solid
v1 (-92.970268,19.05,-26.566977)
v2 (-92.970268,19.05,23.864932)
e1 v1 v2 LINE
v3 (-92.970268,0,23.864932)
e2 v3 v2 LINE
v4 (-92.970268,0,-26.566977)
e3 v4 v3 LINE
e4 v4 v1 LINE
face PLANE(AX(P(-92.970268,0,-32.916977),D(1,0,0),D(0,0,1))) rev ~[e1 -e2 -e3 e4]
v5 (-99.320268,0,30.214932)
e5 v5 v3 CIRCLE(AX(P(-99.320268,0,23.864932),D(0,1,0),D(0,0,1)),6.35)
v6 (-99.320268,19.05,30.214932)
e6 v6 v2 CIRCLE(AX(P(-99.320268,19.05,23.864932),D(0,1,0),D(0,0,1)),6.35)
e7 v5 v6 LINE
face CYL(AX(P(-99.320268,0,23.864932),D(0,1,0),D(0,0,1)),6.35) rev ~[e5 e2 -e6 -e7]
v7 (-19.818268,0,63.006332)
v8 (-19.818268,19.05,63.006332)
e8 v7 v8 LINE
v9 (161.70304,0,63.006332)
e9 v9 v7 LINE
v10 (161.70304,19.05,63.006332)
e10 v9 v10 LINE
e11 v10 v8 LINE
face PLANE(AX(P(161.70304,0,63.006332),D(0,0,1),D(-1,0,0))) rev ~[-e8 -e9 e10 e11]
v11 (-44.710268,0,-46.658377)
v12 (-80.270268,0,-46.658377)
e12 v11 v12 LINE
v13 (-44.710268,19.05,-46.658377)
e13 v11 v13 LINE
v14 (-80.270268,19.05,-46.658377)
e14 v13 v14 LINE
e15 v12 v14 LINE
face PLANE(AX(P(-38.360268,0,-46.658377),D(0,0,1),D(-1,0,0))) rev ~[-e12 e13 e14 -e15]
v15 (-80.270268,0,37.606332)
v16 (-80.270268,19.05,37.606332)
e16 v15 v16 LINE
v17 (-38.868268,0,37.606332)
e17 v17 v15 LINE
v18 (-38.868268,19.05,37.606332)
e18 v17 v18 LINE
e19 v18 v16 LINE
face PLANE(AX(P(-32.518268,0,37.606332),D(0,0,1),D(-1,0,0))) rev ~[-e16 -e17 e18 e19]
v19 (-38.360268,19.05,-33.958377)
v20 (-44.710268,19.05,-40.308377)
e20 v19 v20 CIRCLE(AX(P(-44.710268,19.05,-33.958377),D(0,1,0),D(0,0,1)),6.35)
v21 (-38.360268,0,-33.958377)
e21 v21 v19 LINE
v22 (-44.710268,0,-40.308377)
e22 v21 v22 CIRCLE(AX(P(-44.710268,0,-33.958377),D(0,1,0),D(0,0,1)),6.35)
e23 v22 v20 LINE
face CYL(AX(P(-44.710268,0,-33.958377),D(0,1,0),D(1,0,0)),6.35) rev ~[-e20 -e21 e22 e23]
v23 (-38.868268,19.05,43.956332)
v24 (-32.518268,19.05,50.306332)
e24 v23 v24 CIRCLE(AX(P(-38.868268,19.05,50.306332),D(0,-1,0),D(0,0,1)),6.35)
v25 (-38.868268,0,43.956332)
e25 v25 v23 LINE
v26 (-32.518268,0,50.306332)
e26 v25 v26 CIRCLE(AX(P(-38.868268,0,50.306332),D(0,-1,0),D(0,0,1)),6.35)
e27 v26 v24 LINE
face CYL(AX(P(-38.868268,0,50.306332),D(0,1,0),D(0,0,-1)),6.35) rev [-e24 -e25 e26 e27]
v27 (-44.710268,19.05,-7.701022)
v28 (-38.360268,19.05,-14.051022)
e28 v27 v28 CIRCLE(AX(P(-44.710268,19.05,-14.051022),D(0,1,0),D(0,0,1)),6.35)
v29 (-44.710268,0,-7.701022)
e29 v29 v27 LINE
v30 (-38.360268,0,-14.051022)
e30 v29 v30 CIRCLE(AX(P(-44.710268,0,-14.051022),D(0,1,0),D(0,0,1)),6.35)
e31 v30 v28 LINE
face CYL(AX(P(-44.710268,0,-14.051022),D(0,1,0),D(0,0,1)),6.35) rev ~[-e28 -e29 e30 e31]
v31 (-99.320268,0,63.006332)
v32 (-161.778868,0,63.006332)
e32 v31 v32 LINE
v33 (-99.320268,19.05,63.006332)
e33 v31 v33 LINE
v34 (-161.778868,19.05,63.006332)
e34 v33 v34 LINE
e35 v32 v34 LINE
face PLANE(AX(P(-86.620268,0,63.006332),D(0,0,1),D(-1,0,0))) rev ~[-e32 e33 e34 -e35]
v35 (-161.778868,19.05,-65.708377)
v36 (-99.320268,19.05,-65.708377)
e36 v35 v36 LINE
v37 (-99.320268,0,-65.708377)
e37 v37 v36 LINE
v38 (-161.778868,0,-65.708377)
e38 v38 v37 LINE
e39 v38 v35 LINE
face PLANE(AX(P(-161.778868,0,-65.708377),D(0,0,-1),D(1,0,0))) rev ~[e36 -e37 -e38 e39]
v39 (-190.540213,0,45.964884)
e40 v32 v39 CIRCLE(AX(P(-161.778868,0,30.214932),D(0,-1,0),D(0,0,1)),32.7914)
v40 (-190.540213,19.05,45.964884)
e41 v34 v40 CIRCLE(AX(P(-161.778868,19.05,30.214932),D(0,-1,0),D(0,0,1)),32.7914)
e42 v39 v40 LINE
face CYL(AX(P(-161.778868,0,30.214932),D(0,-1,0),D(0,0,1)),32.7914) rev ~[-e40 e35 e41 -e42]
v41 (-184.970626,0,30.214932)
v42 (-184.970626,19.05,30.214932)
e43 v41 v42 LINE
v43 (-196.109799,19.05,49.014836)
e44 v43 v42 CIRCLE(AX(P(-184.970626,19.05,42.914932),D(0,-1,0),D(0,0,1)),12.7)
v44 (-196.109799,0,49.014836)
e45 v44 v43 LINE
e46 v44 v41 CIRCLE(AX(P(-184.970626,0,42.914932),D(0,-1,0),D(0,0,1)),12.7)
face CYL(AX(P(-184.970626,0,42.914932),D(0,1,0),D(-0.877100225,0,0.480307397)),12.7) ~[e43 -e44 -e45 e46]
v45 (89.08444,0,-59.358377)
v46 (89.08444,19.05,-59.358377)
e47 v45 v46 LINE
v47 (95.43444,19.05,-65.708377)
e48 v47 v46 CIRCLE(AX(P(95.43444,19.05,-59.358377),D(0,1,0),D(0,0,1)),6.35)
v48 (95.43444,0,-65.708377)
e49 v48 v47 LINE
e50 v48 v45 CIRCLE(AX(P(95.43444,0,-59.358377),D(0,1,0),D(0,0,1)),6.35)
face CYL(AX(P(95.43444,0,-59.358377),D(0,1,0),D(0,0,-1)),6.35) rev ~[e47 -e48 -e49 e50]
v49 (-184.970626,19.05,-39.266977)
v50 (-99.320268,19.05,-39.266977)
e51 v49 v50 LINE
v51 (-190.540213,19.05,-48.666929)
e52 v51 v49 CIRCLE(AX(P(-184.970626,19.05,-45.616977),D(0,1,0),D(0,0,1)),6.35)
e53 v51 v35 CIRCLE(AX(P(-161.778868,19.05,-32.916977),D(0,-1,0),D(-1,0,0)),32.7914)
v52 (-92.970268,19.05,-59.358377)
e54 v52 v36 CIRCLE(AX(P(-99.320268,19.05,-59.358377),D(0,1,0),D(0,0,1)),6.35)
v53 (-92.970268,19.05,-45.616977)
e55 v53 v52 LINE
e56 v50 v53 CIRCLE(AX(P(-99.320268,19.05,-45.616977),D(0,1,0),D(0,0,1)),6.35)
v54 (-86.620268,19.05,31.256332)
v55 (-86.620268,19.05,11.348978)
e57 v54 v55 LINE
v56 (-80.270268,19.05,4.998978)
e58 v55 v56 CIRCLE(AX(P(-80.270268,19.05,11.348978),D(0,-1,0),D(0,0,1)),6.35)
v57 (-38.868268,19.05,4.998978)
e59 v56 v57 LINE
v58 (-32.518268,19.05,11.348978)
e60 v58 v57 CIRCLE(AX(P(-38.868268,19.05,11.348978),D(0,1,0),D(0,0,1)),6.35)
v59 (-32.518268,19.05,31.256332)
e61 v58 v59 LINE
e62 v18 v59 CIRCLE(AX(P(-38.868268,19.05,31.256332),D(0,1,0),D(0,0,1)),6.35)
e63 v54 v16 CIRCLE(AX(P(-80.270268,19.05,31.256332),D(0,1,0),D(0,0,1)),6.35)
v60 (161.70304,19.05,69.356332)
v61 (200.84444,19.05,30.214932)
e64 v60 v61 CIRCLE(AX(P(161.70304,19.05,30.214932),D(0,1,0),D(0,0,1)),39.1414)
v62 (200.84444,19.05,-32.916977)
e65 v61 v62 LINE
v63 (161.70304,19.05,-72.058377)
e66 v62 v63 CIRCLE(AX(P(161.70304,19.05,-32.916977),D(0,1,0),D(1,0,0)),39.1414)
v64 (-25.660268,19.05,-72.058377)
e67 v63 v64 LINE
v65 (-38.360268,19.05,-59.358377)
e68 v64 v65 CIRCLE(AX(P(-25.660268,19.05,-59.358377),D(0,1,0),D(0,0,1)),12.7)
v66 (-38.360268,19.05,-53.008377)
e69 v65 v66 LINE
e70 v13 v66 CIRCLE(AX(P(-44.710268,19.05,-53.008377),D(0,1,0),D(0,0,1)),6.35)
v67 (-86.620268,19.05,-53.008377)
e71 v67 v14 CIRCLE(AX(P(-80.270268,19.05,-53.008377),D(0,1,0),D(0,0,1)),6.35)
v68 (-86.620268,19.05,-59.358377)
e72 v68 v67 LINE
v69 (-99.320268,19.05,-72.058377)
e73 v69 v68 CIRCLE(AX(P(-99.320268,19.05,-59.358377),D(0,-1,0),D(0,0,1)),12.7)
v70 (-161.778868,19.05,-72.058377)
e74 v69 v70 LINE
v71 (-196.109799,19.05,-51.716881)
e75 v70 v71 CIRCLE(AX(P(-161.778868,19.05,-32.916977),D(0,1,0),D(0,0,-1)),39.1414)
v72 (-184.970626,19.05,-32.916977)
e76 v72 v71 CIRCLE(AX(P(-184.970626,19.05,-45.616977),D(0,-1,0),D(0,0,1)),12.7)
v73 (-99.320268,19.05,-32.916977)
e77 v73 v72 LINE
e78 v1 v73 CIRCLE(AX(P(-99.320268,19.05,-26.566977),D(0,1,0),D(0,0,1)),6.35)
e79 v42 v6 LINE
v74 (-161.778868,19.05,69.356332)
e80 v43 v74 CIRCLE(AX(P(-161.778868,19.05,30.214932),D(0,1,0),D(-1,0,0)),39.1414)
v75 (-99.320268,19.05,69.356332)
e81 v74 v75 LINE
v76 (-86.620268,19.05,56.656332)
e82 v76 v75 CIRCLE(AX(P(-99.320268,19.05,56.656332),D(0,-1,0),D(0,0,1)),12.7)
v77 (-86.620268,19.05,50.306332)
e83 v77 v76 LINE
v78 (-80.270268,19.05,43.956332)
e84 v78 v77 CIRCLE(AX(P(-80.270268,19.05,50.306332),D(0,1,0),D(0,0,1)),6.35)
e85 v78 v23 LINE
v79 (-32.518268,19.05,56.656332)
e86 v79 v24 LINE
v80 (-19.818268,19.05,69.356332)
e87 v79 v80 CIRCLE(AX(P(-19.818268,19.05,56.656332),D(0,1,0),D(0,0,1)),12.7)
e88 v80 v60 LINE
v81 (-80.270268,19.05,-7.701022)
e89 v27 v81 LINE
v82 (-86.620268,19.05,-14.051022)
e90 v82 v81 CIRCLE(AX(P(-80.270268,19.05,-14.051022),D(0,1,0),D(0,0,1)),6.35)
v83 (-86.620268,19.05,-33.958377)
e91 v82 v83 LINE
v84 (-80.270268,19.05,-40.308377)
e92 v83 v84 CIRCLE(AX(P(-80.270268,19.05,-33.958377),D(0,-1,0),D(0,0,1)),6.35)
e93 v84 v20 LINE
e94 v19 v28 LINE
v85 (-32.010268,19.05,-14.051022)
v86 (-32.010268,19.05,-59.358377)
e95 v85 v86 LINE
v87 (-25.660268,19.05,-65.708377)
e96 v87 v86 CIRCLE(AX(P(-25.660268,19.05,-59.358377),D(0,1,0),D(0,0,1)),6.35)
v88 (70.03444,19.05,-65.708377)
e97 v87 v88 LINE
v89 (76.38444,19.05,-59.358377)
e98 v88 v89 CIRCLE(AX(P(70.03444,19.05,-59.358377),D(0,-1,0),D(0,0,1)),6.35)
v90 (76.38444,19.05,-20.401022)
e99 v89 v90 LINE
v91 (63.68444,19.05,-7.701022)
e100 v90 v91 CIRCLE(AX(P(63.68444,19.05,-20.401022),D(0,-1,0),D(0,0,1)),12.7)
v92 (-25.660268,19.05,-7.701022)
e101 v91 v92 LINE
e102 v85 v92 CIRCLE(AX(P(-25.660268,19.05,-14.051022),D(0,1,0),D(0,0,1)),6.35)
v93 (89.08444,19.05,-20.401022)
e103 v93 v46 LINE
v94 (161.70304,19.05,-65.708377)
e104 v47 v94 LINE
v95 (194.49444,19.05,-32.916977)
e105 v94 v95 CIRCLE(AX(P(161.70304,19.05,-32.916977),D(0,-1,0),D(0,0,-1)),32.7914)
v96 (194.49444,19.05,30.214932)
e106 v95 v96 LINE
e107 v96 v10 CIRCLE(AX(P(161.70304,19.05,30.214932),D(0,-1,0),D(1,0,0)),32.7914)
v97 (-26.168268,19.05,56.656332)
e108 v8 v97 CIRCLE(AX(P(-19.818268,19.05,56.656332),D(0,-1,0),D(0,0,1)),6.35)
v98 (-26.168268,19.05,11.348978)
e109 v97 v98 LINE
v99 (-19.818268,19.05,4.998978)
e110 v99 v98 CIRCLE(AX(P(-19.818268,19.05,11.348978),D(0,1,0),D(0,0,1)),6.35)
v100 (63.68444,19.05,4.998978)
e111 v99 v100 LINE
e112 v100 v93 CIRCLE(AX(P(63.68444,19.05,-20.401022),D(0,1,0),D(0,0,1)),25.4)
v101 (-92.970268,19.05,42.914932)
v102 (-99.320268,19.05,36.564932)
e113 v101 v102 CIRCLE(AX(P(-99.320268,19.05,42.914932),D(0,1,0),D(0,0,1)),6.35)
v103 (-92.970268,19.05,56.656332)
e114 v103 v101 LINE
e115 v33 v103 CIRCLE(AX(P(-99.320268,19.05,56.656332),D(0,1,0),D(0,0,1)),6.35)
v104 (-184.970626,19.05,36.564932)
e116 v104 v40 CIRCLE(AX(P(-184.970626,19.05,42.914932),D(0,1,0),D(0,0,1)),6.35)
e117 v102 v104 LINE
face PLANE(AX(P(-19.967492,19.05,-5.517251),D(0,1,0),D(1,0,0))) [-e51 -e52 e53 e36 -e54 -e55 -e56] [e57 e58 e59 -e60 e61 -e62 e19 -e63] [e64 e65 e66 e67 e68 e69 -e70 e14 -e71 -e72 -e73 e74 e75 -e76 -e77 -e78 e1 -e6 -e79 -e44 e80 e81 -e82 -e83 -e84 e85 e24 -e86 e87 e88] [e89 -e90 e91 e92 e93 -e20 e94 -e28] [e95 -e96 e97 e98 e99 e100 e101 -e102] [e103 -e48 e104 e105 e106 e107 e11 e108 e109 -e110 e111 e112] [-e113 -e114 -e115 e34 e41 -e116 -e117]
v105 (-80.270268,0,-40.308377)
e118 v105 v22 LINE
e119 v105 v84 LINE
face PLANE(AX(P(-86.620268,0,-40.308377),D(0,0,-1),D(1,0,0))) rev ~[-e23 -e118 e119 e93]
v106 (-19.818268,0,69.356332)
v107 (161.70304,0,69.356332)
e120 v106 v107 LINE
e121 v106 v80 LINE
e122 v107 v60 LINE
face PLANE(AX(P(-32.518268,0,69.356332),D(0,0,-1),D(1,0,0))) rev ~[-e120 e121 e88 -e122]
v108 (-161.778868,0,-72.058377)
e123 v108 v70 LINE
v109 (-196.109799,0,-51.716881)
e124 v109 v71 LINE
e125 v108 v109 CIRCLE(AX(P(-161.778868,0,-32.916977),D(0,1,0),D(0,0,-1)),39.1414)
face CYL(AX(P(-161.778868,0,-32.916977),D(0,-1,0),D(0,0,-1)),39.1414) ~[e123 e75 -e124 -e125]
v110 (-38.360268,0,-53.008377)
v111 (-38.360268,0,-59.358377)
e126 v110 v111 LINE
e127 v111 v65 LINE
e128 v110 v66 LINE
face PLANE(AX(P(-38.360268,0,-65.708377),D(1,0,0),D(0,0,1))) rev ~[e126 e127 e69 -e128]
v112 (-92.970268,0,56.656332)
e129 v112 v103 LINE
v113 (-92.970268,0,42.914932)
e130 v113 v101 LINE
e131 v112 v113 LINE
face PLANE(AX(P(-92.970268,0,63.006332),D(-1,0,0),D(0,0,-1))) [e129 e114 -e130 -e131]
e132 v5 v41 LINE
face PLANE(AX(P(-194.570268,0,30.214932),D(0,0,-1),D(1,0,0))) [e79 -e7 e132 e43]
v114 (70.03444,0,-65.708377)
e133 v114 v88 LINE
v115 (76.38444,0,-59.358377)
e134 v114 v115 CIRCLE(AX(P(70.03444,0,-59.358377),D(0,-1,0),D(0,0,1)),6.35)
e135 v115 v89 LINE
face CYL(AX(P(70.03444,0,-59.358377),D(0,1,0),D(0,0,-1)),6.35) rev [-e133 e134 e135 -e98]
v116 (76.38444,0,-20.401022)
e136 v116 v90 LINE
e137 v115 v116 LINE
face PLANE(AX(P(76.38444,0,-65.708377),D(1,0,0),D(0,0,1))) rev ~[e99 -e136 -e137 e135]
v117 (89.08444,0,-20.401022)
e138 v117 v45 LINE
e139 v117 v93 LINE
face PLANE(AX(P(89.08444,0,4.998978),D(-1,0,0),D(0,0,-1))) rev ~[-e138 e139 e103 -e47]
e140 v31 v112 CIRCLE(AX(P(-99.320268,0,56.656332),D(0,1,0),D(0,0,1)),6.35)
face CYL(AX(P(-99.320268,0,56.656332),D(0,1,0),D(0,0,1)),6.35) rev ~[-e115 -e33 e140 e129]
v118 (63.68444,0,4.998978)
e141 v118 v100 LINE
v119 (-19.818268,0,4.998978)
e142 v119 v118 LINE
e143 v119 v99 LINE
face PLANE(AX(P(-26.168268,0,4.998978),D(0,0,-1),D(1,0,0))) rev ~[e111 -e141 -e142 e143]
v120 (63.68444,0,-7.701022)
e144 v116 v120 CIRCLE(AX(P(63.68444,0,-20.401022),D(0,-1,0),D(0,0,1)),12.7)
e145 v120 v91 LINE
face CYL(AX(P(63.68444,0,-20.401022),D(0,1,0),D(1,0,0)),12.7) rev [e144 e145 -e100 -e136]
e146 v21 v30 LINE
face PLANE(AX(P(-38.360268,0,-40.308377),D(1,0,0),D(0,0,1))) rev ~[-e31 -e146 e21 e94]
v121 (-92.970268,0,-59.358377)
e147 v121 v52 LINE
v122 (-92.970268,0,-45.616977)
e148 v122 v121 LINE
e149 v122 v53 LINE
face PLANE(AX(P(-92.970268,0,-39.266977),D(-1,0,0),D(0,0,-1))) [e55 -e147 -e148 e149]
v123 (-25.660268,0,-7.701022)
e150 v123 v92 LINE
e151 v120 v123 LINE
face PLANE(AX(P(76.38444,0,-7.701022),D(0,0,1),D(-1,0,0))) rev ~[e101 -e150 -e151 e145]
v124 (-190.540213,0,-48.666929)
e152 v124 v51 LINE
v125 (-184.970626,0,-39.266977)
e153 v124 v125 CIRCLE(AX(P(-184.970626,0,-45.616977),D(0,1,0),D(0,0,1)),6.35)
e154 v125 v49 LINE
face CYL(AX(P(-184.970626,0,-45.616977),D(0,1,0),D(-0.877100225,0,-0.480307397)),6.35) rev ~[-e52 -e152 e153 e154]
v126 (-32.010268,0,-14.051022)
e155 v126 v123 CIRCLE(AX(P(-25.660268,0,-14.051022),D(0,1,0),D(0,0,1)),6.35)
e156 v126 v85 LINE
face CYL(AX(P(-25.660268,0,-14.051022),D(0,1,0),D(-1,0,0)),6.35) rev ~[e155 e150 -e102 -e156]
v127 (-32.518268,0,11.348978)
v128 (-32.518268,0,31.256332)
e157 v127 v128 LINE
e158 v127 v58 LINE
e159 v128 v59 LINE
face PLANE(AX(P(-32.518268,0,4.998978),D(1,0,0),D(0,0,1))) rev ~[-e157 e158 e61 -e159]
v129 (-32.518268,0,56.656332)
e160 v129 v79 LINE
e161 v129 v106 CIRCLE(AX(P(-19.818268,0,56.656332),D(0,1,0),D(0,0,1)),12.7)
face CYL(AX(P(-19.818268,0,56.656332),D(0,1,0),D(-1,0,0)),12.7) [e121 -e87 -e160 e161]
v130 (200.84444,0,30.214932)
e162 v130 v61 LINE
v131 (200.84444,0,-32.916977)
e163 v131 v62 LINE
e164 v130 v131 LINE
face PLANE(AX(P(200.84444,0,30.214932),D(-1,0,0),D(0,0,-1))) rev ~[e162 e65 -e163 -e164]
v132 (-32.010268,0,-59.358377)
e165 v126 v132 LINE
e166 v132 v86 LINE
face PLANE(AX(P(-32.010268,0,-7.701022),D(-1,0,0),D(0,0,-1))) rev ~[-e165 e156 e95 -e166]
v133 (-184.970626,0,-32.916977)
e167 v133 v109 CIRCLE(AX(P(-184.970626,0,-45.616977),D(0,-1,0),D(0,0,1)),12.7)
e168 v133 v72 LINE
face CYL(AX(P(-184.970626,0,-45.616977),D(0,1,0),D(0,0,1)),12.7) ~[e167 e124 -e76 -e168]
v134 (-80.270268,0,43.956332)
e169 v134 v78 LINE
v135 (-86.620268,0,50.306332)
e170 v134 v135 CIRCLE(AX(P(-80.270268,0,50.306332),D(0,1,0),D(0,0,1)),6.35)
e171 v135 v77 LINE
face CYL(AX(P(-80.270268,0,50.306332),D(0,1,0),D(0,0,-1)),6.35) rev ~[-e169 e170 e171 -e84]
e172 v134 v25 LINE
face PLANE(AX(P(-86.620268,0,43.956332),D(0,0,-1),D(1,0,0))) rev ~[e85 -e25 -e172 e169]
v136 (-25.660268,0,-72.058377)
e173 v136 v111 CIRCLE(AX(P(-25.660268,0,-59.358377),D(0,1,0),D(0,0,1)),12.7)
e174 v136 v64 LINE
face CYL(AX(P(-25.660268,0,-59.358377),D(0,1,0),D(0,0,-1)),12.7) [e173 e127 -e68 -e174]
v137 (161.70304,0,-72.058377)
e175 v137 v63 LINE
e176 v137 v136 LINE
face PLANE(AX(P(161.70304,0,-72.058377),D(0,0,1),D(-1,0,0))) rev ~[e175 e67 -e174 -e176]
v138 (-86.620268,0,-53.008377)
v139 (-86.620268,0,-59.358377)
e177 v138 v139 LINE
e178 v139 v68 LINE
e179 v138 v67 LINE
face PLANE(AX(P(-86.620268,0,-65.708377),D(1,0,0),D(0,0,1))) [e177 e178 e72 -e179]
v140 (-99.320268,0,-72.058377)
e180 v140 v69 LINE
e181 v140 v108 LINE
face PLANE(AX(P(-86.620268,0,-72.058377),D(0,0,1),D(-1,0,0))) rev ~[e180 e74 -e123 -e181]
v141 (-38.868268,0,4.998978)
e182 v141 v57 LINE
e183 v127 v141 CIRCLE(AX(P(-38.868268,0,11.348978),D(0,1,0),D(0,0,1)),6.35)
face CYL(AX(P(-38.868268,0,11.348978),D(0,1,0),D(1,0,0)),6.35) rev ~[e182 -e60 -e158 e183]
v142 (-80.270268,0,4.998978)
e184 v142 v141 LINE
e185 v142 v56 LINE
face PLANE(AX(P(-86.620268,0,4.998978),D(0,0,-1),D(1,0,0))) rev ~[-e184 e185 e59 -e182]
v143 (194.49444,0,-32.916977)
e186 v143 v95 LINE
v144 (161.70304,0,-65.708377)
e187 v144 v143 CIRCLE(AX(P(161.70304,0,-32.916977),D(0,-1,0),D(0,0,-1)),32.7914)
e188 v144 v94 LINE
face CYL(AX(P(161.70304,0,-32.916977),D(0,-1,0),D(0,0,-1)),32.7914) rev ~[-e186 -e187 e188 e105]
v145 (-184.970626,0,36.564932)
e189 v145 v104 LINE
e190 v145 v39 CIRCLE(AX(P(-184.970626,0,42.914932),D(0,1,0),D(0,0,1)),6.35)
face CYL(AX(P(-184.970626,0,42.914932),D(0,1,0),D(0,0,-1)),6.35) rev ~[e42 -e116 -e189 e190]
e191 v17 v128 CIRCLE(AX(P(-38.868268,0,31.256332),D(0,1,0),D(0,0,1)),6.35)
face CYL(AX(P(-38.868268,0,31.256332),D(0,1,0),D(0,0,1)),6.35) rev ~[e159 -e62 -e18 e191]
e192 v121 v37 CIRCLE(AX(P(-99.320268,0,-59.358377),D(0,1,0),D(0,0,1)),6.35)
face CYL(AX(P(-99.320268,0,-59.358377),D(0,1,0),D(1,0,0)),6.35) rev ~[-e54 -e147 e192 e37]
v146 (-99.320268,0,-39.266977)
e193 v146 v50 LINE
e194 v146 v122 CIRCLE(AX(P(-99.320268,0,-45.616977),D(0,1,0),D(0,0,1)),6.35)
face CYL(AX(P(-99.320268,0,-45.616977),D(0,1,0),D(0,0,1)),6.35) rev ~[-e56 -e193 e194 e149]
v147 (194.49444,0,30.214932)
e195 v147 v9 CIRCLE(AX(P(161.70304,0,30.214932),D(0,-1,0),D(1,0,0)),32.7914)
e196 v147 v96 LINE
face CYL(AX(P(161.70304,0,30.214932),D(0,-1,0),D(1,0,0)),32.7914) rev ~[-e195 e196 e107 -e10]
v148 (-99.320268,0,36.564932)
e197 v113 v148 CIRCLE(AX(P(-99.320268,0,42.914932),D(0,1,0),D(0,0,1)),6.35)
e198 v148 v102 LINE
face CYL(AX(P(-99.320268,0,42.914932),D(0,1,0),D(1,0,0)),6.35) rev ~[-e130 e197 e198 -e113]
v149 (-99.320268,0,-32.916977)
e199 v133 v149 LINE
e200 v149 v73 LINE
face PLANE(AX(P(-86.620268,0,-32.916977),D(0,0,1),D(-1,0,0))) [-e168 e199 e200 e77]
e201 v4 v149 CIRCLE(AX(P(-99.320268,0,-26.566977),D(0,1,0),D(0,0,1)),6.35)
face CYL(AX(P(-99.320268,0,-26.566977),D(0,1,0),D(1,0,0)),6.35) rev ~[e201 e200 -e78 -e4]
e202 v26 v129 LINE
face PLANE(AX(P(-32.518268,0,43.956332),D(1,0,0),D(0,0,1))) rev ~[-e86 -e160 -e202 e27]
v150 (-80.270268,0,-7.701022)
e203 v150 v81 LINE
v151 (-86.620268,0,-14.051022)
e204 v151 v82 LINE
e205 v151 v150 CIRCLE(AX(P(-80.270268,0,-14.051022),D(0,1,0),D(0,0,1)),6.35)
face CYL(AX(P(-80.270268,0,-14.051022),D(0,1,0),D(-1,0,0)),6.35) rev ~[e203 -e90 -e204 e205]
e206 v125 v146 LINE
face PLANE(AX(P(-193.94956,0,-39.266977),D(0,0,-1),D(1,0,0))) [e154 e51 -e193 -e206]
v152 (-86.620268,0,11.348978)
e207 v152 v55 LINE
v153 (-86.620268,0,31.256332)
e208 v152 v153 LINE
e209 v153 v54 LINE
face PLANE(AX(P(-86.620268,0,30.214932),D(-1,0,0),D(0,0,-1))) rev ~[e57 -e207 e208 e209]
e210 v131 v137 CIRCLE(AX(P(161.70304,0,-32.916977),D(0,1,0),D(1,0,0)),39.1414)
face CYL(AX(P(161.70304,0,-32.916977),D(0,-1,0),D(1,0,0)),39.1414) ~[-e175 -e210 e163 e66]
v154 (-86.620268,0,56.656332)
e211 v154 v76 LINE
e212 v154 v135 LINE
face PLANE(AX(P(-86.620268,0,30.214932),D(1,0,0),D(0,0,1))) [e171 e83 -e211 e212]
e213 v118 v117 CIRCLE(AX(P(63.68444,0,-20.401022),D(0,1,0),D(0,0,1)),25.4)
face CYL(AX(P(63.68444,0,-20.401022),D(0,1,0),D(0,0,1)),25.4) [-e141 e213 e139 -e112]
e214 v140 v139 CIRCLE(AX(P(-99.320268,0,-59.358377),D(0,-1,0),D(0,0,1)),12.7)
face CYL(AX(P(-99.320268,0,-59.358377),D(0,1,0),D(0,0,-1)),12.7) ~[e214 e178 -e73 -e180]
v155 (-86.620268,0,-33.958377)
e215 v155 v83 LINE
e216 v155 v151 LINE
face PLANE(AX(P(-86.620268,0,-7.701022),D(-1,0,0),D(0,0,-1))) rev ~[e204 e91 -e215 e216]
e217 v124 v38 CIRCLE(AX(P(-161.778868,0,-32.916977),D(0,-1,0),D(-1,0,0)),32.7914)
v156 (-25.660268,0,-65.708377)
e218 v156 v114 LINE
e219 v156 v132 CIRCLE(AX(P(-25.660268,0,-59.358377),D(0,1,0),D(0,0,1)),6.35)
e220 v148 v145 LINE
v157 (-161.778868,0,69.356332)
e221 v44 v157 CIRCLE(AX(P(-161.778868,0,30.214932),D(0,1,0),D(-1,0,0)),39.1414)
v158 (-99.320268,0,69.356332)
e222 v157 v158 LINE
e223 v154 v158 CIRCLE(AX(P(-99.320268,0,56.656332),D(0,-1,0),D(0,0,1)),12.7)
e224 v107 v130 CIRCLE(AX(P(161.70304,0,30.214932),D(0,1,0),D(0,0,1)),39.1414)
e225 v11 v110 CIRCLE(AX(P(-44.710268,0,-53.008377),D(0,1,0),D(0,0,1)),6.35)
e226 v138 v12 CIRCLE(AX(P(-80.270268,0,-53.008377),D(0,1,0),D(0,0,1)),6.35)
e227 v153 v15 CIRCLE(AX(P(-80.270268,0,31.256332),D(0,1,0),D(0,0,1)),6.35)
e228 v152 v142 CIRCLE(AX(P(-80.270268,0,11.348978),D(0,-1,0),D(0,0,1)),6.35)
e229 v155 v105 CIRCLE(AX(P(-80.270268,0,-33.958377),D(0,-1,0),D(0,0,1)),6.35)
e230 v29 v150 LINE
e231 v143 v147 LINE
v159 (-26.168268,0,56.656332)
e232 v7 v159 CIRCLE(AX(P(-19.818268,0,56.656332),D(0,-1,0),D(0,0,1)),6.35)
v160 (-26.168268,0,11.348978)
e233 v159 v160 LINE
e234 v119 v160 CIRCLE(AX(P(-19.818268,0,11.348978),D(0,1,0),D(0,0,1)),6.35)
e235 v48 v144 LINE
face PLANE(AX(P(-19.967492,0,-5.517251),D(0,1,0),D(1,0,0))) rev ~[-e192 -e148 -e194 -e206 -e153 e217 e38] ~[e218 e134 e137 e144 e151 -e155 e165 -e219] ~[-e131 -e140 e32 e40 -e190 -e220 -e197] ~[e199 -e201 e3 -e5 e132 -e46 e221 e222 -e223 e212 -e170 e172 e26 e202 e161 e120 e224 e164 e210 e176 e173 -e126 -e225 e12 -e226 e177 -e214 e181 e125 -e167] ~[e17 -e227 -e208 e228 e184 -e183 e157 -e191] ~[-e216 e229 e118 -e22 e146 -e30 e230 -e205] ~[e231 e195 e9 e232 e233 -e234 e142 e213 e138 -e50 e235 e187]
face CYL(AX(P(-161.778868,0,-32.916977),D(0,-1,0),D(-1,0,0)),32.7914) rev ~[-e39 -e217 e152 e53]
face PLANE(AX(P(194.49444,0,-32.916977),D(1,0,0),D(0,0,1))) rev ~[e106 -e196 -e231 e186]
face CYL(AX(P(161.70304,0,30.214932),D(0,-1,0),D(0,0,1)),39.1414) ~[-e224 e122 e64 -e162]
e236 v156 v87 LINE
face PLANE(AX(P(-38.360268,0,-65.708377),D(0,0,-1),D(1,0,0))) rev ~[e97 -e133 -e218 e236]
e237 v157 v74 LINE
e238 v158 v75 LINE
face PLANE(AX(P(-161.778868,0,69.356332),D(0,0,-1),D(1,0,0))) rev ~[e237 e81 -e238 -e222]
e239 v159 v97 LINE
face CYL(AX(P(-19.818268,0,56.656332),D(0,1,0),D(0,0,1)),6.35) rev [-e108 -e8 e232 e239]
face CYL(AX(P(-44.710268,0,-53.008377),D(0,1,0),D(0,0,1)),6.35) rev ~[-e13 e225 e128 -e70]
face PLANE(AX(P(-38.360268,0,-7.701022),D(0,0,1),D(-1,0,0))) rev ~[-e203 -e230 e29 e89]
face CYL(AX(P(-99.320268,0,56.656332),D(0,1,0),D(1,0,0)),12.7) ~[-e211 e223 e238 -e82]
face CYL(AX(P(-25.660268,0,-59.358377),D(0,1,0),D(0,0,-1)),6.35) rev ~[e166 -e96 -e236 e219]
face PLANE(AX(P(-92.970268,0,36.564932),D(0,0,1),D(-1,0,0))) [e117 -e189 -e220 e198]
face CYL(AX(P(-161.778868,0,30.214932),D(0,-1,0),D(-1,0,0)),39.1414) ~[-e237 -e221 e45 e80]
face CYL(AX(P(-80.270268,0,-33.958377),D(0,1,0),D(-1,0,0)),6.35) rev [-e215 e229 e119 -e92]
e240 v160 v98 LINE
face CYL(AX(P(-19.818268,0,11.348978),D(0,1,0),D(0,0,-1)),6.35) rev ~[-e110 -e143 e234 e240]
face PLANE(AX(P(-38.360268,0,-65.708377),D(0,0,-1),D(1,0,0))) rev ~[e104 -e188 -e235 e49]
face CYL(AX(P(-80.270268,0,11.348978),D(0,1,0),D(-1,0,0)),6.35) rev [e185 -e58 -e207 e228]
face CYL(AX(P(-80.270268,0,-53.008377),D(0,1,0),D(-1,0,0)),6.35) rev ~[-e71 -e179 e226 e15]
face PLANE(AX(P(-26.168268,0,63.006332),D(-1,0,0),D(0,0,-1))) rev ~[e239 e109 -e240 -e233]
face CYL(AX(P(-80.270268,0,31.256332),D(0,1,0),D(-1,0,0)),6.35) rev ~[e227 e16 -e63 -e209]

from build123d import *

# Parameters (mm, degrees)
BOSS_EXTRUDE1_DEPTH   = 19.05
BOSS_EXTRUDE1_2_DEPTH = 19.05
SKETCH4_W             = 6.35
SKETCH4_H             = 63.131908364
CUT_EXTRUDE4_DEPTH    = 19.05
BOSS_EXTRUDE2_DEPTH   = 19.05
BOSS_EXTRUDE3_DEPTH   = 19.05
FILLET2_R             = 6.35
FILLET3_R             = 12.7
FILLET4_R             = 12.7
FILLET5_R             = 25.4


with BuildPart() as part:
    # Sketch1 → Boss-Extrude1 (new body)
    with BuildSketch(Plane(origin=(0, 0, 0), x_dir=(1, 0, 0), z_dir=(0, 1, 0))):
        with BuildLine():
            Line((-200.920268311, 32.916976578), (-200.920268311, -30.214931786))
            ThreePointArc((-200.920268311, -30.214931786), (-189.456017676, -57.892081151), (-161.778868311, -69.356331786))
            Line((-161.778868311, -69.356331786), (-86.620268311, -69.356331786))
            Line((-86.620268311, -69.356331786), (-86.620268311, -63.006331786))
            Line((-86.620268311, -63.006331786), (-161.778868311, -63.006331786))
            ThreePointArc((-161.778868311, -63.006331786), (-184.965889616, -53.401953091), (-194.570268311, -30.214931786))
            Line((-194.570268311, -30.214931786), (-194.570268311, 32.916976578))
            ThreePointArc((-194.570268311, 32.916976578), (-184.965889616, 56.103997883), (-161.778868311, 65.708376578))
            Line((-161.778868311, 65.708376578), (-86.620268311, 65.708376578))
            Line((-86.620268311, 65.708376578), (-86.620268311, 72.058376578))
            Line((-86.620268311, 72.058376578), (-161.778868311, 72.058376578))
            ThreePointArc((-161.778868311, 72.058376578), (-189.456017676, 60.594125943), (-200.920268311, 32.916976578))
        make_face()
    extrude(amount=BOSS_EXTRUDE1_DEPTH)

    # Sketch4 → Cut-Extrude4 (cut)
    with BuildSketch(Plane(origin=(0, 19.05, 0), x_dir=(1, 0, 0), z_dir=(0, 1, 0))):
        with Locations((-197.745268311, 1.351022396)):
            Rectangle(SKETCH4_W, SKETCH4_H)
    extrude(amount=-CUT_EXTRUDE4_DEPTH, mode=Mode.SUBTRACT)

    # Sketch5 → Boss-Extrude2 (add)
    with BuildSketch(Plane(origin=(0, 0, 0), x_dir=(1, 0, 0), z_dir=(0, 1, 0))):
        with BuildLine():
            Line((-194.570268311, -30.214931786), (-86.620268311, -30.214931786))
            Line((-86.620268311, -30.214931786), (-86.620268311, -63.006331786))
            Line((-86.620268311, -63.006331786), (-92.970268311, -63.006331786))
            Line((-92.970268311, -63.006331786), (-92.970268311, -36.564931786))
            Line((-92.970268311, -36.564931786), (-193.949560159, -36.564931786))
            ThreePointArc((-193.949560159, -36.564931786), (-194.414722357, -33.405064174), (-194.570268311, -30.214931786))
        make_face()
        with BuildLine():
            Line((-92.970268311, 65.708376578), (-86.620268311, 65.708376578))
            Line((-86.620268311, 65.708376578), (-86.620268311, 32.916976578))
            Line((-86.620268311, 32.916976578), (-194.570268311, 32.916976578))
            ThreePointArc((-194.570268311, 32.916976578), (-194.414722357, 36.107108966), (-193.949560159, 39.266976578))
            Line((-193.949560159, 39.266976578), (-92.970268311, 39.266976578))
            Line((-92.970268311, 39.266976578), (-92.970268311, 65.708376578))
        make_face()
    extrude(amount=BOSS_EXTRUDE2_DEPTH)



with BuildPart() as body_2:
    # Sketch1 → Boss-Extrude1 2 (new body)
    with BuildSketch(Plane(origin=(0, 0, 0), x_dir=(1, 0, 0), z_dir=(0, 1, 0))):
        with BuildLine():
            Line((200.844440053, -30.214931786), (200.844440053, 32.916976578))
            ThreePointArc((200.844440053, 32.916976578), (189.380189418, 60.594125943), (161.703040053, 72.058376578))
            Line((161.703040053, 72.058376578), (-38.360268311, 72.058376578))
            Line((-38.360268311, 72.058376578), (-38.360268311, 65.708376578))
            Line((-38.360268311, 65.708376578), (161.703040053, 65.708376578))
            ThreePointArc((161.703040053, 65.708376578), (184.890061358, 56.103997883), (194.494440053, 32.916976578))
            Line((194.494440053, 32.916976578), (194.494440053, -30.214931786))
            ThreePointArc((194.494440053, -30.214931786), (184.890061358, -53.401953091), (161.703040053, -63.006331786))
            Line((161.703040053, -63.006331786), (-32.518268311, -63.006331786))
            Line((-32.518268311, -63.006331786), (-32.518268311, -69.356331786))
            Line((-32.518268311, -69.356331786), (161.703040053, -69.356331786))
            ThreePointArc((161.703040053, -69.356331786), (189.380189418, -57.892081151), (200.844440053, -30.214931786))
        make_face()
    extrude(amount=BOSS_EXTRUDE1_2_DEPTH)


with BuildPart() as part_1:
    add(part.part)

    add(body_2.part)  # Boss-Extrude3 merges body 2
    # Sketch6 → Boss-Extrude3 (add)
    with BuildSketch(Plane(origin=(0, 0, 0), x_dir=(1, 0, 0), z_dir=(0, 1, 0))):
        Polygon((-86.620268311, -43.956331786), (-32.518268311, -43.956331786), (-32.518268311, -63.006331786), (-26.168268311, -63.006331786), (-26.168268311, -37.606331786), (-26.168268311, -4.998977604), (89.084440053, -4.998977604), (89.084440053, 65.708376578), (76.384440053, 65.708376578), (76.384440053, 7.701022396), (-32.010268311, 7.701022396), (-32.010268311, 40.308376578), (-32.010268311, 65.708376578), (-38.360268311, 65.708376578), (-38.360268311, 46.658376578), (-86.620268311, 46.658376578), (-86.620268311, 40.308376578), (-38.360268311, 40.308376578), (-38.360268311, 7.701022396), (-86.620268311, 7.701022396), (-86.620268311, 32.916976578), (-92.970268311, 32.916976578), (-92.970268311, 7.701022396), (-92.970268311, -4.998977604), (-92.970268311, -30.214931786), (-86.620268311, -30.214931786), (-86.620268311, -4.998977604), (-32.518268311, -4.998977604), (-32.518268311, -37.606331786), (-86.620268311, -37.606331786), align=None)
    extrude(amount=BOSS_EXTRUDE3_DEPTH)

    # Fillet2
    fillet2_edges = [part_1.edges().sort_by_distance(p)[0] for p in [
        (-193.949560159, 9.525, 36.564931786),
        (-92.970268311, 9.525, 36.564931786),
        (-193.949560159, 9.525, -39.266976578),
        (-92.970268311, 9.525, -65.708376578),
        (-92.970268311, 9.525, -39.266976578),
        (-86.620268311, 9.525, 37.606331786),
        (-86.620268311, 9.525, 43.956331786),
        (-32.518268311, 9.525, 43.956331786),
        (-26.168268311, 9.525, 63.006331786),
        (-26.168268311, 9.525, 4.998977604),
        (89.084440053, 9.525, -65.708376578),
        (76.384440053, 9.525, -65.708376578),
        (-32.010268311, 9.525, -7.701022396),
        (-32.010268311, 9.525, -65.708376578),
        (-38.360268311, 9.525, -46.658376578),
        (-86.620268311, 9.525, -46.658376578),
        (-86.620268311, 9.525, -40.308376578),
        (-38.360268311, 9.525, -40.308376578),
        (-38.360268311, 9.525, -7.701022396),
        (-86.620268311, 9.525, -7.701022396),
        (-92.970268311, 9.525, -32.916976578),
        (-92.970268311, 9.525, 30.214931786),
        (-86.620268311, 9.525, 4.998977604),
        (-32.518268311, 9.525, 4.998977604),
        (-32.518268311, 9.525, 37.606331786),
        (-92.970268311, 9.525, 63.006331786),
    ]]
    fillet(fillet2_edges, radius=FILLET2_R)

    # Fillet3
    fillet3_edges = [part_1.edges().sort_by_distance(p)[0] for p in [
        (-200.920268311, 9.525, 30.214931786),
        (-200.920268311, 9.525, -32.916976578),
        (-86.620268311, 9.525, -72.058376578),
        (-32.518268311, 9.525, 69.356331786),
        (-38.360268311, 9.525, -72.058376578),
        (-86.620268311, 9.525, 69.356331786),
    ]]
    fillet(fillet3_edges, radius=FILLET3_R)

    # Fillet4
    fillet4_edges = [part_1.edges().sort_by_distance(p)[0] for p in [
        (76.384440053, 9.525, -7.701022396),
    ]]
    fillet(fillet4_edges, radius=FILLET4_R)

    # Fillet5
    fillet5_edges = [part_1.edges().sort_by_distance(p)[0] for p in [
        (89.084440053, 9.525, 4.998977604),
    ]]
    fillet(fillet5_edges, radius=FILLET5_R)


solid = part_1.part
